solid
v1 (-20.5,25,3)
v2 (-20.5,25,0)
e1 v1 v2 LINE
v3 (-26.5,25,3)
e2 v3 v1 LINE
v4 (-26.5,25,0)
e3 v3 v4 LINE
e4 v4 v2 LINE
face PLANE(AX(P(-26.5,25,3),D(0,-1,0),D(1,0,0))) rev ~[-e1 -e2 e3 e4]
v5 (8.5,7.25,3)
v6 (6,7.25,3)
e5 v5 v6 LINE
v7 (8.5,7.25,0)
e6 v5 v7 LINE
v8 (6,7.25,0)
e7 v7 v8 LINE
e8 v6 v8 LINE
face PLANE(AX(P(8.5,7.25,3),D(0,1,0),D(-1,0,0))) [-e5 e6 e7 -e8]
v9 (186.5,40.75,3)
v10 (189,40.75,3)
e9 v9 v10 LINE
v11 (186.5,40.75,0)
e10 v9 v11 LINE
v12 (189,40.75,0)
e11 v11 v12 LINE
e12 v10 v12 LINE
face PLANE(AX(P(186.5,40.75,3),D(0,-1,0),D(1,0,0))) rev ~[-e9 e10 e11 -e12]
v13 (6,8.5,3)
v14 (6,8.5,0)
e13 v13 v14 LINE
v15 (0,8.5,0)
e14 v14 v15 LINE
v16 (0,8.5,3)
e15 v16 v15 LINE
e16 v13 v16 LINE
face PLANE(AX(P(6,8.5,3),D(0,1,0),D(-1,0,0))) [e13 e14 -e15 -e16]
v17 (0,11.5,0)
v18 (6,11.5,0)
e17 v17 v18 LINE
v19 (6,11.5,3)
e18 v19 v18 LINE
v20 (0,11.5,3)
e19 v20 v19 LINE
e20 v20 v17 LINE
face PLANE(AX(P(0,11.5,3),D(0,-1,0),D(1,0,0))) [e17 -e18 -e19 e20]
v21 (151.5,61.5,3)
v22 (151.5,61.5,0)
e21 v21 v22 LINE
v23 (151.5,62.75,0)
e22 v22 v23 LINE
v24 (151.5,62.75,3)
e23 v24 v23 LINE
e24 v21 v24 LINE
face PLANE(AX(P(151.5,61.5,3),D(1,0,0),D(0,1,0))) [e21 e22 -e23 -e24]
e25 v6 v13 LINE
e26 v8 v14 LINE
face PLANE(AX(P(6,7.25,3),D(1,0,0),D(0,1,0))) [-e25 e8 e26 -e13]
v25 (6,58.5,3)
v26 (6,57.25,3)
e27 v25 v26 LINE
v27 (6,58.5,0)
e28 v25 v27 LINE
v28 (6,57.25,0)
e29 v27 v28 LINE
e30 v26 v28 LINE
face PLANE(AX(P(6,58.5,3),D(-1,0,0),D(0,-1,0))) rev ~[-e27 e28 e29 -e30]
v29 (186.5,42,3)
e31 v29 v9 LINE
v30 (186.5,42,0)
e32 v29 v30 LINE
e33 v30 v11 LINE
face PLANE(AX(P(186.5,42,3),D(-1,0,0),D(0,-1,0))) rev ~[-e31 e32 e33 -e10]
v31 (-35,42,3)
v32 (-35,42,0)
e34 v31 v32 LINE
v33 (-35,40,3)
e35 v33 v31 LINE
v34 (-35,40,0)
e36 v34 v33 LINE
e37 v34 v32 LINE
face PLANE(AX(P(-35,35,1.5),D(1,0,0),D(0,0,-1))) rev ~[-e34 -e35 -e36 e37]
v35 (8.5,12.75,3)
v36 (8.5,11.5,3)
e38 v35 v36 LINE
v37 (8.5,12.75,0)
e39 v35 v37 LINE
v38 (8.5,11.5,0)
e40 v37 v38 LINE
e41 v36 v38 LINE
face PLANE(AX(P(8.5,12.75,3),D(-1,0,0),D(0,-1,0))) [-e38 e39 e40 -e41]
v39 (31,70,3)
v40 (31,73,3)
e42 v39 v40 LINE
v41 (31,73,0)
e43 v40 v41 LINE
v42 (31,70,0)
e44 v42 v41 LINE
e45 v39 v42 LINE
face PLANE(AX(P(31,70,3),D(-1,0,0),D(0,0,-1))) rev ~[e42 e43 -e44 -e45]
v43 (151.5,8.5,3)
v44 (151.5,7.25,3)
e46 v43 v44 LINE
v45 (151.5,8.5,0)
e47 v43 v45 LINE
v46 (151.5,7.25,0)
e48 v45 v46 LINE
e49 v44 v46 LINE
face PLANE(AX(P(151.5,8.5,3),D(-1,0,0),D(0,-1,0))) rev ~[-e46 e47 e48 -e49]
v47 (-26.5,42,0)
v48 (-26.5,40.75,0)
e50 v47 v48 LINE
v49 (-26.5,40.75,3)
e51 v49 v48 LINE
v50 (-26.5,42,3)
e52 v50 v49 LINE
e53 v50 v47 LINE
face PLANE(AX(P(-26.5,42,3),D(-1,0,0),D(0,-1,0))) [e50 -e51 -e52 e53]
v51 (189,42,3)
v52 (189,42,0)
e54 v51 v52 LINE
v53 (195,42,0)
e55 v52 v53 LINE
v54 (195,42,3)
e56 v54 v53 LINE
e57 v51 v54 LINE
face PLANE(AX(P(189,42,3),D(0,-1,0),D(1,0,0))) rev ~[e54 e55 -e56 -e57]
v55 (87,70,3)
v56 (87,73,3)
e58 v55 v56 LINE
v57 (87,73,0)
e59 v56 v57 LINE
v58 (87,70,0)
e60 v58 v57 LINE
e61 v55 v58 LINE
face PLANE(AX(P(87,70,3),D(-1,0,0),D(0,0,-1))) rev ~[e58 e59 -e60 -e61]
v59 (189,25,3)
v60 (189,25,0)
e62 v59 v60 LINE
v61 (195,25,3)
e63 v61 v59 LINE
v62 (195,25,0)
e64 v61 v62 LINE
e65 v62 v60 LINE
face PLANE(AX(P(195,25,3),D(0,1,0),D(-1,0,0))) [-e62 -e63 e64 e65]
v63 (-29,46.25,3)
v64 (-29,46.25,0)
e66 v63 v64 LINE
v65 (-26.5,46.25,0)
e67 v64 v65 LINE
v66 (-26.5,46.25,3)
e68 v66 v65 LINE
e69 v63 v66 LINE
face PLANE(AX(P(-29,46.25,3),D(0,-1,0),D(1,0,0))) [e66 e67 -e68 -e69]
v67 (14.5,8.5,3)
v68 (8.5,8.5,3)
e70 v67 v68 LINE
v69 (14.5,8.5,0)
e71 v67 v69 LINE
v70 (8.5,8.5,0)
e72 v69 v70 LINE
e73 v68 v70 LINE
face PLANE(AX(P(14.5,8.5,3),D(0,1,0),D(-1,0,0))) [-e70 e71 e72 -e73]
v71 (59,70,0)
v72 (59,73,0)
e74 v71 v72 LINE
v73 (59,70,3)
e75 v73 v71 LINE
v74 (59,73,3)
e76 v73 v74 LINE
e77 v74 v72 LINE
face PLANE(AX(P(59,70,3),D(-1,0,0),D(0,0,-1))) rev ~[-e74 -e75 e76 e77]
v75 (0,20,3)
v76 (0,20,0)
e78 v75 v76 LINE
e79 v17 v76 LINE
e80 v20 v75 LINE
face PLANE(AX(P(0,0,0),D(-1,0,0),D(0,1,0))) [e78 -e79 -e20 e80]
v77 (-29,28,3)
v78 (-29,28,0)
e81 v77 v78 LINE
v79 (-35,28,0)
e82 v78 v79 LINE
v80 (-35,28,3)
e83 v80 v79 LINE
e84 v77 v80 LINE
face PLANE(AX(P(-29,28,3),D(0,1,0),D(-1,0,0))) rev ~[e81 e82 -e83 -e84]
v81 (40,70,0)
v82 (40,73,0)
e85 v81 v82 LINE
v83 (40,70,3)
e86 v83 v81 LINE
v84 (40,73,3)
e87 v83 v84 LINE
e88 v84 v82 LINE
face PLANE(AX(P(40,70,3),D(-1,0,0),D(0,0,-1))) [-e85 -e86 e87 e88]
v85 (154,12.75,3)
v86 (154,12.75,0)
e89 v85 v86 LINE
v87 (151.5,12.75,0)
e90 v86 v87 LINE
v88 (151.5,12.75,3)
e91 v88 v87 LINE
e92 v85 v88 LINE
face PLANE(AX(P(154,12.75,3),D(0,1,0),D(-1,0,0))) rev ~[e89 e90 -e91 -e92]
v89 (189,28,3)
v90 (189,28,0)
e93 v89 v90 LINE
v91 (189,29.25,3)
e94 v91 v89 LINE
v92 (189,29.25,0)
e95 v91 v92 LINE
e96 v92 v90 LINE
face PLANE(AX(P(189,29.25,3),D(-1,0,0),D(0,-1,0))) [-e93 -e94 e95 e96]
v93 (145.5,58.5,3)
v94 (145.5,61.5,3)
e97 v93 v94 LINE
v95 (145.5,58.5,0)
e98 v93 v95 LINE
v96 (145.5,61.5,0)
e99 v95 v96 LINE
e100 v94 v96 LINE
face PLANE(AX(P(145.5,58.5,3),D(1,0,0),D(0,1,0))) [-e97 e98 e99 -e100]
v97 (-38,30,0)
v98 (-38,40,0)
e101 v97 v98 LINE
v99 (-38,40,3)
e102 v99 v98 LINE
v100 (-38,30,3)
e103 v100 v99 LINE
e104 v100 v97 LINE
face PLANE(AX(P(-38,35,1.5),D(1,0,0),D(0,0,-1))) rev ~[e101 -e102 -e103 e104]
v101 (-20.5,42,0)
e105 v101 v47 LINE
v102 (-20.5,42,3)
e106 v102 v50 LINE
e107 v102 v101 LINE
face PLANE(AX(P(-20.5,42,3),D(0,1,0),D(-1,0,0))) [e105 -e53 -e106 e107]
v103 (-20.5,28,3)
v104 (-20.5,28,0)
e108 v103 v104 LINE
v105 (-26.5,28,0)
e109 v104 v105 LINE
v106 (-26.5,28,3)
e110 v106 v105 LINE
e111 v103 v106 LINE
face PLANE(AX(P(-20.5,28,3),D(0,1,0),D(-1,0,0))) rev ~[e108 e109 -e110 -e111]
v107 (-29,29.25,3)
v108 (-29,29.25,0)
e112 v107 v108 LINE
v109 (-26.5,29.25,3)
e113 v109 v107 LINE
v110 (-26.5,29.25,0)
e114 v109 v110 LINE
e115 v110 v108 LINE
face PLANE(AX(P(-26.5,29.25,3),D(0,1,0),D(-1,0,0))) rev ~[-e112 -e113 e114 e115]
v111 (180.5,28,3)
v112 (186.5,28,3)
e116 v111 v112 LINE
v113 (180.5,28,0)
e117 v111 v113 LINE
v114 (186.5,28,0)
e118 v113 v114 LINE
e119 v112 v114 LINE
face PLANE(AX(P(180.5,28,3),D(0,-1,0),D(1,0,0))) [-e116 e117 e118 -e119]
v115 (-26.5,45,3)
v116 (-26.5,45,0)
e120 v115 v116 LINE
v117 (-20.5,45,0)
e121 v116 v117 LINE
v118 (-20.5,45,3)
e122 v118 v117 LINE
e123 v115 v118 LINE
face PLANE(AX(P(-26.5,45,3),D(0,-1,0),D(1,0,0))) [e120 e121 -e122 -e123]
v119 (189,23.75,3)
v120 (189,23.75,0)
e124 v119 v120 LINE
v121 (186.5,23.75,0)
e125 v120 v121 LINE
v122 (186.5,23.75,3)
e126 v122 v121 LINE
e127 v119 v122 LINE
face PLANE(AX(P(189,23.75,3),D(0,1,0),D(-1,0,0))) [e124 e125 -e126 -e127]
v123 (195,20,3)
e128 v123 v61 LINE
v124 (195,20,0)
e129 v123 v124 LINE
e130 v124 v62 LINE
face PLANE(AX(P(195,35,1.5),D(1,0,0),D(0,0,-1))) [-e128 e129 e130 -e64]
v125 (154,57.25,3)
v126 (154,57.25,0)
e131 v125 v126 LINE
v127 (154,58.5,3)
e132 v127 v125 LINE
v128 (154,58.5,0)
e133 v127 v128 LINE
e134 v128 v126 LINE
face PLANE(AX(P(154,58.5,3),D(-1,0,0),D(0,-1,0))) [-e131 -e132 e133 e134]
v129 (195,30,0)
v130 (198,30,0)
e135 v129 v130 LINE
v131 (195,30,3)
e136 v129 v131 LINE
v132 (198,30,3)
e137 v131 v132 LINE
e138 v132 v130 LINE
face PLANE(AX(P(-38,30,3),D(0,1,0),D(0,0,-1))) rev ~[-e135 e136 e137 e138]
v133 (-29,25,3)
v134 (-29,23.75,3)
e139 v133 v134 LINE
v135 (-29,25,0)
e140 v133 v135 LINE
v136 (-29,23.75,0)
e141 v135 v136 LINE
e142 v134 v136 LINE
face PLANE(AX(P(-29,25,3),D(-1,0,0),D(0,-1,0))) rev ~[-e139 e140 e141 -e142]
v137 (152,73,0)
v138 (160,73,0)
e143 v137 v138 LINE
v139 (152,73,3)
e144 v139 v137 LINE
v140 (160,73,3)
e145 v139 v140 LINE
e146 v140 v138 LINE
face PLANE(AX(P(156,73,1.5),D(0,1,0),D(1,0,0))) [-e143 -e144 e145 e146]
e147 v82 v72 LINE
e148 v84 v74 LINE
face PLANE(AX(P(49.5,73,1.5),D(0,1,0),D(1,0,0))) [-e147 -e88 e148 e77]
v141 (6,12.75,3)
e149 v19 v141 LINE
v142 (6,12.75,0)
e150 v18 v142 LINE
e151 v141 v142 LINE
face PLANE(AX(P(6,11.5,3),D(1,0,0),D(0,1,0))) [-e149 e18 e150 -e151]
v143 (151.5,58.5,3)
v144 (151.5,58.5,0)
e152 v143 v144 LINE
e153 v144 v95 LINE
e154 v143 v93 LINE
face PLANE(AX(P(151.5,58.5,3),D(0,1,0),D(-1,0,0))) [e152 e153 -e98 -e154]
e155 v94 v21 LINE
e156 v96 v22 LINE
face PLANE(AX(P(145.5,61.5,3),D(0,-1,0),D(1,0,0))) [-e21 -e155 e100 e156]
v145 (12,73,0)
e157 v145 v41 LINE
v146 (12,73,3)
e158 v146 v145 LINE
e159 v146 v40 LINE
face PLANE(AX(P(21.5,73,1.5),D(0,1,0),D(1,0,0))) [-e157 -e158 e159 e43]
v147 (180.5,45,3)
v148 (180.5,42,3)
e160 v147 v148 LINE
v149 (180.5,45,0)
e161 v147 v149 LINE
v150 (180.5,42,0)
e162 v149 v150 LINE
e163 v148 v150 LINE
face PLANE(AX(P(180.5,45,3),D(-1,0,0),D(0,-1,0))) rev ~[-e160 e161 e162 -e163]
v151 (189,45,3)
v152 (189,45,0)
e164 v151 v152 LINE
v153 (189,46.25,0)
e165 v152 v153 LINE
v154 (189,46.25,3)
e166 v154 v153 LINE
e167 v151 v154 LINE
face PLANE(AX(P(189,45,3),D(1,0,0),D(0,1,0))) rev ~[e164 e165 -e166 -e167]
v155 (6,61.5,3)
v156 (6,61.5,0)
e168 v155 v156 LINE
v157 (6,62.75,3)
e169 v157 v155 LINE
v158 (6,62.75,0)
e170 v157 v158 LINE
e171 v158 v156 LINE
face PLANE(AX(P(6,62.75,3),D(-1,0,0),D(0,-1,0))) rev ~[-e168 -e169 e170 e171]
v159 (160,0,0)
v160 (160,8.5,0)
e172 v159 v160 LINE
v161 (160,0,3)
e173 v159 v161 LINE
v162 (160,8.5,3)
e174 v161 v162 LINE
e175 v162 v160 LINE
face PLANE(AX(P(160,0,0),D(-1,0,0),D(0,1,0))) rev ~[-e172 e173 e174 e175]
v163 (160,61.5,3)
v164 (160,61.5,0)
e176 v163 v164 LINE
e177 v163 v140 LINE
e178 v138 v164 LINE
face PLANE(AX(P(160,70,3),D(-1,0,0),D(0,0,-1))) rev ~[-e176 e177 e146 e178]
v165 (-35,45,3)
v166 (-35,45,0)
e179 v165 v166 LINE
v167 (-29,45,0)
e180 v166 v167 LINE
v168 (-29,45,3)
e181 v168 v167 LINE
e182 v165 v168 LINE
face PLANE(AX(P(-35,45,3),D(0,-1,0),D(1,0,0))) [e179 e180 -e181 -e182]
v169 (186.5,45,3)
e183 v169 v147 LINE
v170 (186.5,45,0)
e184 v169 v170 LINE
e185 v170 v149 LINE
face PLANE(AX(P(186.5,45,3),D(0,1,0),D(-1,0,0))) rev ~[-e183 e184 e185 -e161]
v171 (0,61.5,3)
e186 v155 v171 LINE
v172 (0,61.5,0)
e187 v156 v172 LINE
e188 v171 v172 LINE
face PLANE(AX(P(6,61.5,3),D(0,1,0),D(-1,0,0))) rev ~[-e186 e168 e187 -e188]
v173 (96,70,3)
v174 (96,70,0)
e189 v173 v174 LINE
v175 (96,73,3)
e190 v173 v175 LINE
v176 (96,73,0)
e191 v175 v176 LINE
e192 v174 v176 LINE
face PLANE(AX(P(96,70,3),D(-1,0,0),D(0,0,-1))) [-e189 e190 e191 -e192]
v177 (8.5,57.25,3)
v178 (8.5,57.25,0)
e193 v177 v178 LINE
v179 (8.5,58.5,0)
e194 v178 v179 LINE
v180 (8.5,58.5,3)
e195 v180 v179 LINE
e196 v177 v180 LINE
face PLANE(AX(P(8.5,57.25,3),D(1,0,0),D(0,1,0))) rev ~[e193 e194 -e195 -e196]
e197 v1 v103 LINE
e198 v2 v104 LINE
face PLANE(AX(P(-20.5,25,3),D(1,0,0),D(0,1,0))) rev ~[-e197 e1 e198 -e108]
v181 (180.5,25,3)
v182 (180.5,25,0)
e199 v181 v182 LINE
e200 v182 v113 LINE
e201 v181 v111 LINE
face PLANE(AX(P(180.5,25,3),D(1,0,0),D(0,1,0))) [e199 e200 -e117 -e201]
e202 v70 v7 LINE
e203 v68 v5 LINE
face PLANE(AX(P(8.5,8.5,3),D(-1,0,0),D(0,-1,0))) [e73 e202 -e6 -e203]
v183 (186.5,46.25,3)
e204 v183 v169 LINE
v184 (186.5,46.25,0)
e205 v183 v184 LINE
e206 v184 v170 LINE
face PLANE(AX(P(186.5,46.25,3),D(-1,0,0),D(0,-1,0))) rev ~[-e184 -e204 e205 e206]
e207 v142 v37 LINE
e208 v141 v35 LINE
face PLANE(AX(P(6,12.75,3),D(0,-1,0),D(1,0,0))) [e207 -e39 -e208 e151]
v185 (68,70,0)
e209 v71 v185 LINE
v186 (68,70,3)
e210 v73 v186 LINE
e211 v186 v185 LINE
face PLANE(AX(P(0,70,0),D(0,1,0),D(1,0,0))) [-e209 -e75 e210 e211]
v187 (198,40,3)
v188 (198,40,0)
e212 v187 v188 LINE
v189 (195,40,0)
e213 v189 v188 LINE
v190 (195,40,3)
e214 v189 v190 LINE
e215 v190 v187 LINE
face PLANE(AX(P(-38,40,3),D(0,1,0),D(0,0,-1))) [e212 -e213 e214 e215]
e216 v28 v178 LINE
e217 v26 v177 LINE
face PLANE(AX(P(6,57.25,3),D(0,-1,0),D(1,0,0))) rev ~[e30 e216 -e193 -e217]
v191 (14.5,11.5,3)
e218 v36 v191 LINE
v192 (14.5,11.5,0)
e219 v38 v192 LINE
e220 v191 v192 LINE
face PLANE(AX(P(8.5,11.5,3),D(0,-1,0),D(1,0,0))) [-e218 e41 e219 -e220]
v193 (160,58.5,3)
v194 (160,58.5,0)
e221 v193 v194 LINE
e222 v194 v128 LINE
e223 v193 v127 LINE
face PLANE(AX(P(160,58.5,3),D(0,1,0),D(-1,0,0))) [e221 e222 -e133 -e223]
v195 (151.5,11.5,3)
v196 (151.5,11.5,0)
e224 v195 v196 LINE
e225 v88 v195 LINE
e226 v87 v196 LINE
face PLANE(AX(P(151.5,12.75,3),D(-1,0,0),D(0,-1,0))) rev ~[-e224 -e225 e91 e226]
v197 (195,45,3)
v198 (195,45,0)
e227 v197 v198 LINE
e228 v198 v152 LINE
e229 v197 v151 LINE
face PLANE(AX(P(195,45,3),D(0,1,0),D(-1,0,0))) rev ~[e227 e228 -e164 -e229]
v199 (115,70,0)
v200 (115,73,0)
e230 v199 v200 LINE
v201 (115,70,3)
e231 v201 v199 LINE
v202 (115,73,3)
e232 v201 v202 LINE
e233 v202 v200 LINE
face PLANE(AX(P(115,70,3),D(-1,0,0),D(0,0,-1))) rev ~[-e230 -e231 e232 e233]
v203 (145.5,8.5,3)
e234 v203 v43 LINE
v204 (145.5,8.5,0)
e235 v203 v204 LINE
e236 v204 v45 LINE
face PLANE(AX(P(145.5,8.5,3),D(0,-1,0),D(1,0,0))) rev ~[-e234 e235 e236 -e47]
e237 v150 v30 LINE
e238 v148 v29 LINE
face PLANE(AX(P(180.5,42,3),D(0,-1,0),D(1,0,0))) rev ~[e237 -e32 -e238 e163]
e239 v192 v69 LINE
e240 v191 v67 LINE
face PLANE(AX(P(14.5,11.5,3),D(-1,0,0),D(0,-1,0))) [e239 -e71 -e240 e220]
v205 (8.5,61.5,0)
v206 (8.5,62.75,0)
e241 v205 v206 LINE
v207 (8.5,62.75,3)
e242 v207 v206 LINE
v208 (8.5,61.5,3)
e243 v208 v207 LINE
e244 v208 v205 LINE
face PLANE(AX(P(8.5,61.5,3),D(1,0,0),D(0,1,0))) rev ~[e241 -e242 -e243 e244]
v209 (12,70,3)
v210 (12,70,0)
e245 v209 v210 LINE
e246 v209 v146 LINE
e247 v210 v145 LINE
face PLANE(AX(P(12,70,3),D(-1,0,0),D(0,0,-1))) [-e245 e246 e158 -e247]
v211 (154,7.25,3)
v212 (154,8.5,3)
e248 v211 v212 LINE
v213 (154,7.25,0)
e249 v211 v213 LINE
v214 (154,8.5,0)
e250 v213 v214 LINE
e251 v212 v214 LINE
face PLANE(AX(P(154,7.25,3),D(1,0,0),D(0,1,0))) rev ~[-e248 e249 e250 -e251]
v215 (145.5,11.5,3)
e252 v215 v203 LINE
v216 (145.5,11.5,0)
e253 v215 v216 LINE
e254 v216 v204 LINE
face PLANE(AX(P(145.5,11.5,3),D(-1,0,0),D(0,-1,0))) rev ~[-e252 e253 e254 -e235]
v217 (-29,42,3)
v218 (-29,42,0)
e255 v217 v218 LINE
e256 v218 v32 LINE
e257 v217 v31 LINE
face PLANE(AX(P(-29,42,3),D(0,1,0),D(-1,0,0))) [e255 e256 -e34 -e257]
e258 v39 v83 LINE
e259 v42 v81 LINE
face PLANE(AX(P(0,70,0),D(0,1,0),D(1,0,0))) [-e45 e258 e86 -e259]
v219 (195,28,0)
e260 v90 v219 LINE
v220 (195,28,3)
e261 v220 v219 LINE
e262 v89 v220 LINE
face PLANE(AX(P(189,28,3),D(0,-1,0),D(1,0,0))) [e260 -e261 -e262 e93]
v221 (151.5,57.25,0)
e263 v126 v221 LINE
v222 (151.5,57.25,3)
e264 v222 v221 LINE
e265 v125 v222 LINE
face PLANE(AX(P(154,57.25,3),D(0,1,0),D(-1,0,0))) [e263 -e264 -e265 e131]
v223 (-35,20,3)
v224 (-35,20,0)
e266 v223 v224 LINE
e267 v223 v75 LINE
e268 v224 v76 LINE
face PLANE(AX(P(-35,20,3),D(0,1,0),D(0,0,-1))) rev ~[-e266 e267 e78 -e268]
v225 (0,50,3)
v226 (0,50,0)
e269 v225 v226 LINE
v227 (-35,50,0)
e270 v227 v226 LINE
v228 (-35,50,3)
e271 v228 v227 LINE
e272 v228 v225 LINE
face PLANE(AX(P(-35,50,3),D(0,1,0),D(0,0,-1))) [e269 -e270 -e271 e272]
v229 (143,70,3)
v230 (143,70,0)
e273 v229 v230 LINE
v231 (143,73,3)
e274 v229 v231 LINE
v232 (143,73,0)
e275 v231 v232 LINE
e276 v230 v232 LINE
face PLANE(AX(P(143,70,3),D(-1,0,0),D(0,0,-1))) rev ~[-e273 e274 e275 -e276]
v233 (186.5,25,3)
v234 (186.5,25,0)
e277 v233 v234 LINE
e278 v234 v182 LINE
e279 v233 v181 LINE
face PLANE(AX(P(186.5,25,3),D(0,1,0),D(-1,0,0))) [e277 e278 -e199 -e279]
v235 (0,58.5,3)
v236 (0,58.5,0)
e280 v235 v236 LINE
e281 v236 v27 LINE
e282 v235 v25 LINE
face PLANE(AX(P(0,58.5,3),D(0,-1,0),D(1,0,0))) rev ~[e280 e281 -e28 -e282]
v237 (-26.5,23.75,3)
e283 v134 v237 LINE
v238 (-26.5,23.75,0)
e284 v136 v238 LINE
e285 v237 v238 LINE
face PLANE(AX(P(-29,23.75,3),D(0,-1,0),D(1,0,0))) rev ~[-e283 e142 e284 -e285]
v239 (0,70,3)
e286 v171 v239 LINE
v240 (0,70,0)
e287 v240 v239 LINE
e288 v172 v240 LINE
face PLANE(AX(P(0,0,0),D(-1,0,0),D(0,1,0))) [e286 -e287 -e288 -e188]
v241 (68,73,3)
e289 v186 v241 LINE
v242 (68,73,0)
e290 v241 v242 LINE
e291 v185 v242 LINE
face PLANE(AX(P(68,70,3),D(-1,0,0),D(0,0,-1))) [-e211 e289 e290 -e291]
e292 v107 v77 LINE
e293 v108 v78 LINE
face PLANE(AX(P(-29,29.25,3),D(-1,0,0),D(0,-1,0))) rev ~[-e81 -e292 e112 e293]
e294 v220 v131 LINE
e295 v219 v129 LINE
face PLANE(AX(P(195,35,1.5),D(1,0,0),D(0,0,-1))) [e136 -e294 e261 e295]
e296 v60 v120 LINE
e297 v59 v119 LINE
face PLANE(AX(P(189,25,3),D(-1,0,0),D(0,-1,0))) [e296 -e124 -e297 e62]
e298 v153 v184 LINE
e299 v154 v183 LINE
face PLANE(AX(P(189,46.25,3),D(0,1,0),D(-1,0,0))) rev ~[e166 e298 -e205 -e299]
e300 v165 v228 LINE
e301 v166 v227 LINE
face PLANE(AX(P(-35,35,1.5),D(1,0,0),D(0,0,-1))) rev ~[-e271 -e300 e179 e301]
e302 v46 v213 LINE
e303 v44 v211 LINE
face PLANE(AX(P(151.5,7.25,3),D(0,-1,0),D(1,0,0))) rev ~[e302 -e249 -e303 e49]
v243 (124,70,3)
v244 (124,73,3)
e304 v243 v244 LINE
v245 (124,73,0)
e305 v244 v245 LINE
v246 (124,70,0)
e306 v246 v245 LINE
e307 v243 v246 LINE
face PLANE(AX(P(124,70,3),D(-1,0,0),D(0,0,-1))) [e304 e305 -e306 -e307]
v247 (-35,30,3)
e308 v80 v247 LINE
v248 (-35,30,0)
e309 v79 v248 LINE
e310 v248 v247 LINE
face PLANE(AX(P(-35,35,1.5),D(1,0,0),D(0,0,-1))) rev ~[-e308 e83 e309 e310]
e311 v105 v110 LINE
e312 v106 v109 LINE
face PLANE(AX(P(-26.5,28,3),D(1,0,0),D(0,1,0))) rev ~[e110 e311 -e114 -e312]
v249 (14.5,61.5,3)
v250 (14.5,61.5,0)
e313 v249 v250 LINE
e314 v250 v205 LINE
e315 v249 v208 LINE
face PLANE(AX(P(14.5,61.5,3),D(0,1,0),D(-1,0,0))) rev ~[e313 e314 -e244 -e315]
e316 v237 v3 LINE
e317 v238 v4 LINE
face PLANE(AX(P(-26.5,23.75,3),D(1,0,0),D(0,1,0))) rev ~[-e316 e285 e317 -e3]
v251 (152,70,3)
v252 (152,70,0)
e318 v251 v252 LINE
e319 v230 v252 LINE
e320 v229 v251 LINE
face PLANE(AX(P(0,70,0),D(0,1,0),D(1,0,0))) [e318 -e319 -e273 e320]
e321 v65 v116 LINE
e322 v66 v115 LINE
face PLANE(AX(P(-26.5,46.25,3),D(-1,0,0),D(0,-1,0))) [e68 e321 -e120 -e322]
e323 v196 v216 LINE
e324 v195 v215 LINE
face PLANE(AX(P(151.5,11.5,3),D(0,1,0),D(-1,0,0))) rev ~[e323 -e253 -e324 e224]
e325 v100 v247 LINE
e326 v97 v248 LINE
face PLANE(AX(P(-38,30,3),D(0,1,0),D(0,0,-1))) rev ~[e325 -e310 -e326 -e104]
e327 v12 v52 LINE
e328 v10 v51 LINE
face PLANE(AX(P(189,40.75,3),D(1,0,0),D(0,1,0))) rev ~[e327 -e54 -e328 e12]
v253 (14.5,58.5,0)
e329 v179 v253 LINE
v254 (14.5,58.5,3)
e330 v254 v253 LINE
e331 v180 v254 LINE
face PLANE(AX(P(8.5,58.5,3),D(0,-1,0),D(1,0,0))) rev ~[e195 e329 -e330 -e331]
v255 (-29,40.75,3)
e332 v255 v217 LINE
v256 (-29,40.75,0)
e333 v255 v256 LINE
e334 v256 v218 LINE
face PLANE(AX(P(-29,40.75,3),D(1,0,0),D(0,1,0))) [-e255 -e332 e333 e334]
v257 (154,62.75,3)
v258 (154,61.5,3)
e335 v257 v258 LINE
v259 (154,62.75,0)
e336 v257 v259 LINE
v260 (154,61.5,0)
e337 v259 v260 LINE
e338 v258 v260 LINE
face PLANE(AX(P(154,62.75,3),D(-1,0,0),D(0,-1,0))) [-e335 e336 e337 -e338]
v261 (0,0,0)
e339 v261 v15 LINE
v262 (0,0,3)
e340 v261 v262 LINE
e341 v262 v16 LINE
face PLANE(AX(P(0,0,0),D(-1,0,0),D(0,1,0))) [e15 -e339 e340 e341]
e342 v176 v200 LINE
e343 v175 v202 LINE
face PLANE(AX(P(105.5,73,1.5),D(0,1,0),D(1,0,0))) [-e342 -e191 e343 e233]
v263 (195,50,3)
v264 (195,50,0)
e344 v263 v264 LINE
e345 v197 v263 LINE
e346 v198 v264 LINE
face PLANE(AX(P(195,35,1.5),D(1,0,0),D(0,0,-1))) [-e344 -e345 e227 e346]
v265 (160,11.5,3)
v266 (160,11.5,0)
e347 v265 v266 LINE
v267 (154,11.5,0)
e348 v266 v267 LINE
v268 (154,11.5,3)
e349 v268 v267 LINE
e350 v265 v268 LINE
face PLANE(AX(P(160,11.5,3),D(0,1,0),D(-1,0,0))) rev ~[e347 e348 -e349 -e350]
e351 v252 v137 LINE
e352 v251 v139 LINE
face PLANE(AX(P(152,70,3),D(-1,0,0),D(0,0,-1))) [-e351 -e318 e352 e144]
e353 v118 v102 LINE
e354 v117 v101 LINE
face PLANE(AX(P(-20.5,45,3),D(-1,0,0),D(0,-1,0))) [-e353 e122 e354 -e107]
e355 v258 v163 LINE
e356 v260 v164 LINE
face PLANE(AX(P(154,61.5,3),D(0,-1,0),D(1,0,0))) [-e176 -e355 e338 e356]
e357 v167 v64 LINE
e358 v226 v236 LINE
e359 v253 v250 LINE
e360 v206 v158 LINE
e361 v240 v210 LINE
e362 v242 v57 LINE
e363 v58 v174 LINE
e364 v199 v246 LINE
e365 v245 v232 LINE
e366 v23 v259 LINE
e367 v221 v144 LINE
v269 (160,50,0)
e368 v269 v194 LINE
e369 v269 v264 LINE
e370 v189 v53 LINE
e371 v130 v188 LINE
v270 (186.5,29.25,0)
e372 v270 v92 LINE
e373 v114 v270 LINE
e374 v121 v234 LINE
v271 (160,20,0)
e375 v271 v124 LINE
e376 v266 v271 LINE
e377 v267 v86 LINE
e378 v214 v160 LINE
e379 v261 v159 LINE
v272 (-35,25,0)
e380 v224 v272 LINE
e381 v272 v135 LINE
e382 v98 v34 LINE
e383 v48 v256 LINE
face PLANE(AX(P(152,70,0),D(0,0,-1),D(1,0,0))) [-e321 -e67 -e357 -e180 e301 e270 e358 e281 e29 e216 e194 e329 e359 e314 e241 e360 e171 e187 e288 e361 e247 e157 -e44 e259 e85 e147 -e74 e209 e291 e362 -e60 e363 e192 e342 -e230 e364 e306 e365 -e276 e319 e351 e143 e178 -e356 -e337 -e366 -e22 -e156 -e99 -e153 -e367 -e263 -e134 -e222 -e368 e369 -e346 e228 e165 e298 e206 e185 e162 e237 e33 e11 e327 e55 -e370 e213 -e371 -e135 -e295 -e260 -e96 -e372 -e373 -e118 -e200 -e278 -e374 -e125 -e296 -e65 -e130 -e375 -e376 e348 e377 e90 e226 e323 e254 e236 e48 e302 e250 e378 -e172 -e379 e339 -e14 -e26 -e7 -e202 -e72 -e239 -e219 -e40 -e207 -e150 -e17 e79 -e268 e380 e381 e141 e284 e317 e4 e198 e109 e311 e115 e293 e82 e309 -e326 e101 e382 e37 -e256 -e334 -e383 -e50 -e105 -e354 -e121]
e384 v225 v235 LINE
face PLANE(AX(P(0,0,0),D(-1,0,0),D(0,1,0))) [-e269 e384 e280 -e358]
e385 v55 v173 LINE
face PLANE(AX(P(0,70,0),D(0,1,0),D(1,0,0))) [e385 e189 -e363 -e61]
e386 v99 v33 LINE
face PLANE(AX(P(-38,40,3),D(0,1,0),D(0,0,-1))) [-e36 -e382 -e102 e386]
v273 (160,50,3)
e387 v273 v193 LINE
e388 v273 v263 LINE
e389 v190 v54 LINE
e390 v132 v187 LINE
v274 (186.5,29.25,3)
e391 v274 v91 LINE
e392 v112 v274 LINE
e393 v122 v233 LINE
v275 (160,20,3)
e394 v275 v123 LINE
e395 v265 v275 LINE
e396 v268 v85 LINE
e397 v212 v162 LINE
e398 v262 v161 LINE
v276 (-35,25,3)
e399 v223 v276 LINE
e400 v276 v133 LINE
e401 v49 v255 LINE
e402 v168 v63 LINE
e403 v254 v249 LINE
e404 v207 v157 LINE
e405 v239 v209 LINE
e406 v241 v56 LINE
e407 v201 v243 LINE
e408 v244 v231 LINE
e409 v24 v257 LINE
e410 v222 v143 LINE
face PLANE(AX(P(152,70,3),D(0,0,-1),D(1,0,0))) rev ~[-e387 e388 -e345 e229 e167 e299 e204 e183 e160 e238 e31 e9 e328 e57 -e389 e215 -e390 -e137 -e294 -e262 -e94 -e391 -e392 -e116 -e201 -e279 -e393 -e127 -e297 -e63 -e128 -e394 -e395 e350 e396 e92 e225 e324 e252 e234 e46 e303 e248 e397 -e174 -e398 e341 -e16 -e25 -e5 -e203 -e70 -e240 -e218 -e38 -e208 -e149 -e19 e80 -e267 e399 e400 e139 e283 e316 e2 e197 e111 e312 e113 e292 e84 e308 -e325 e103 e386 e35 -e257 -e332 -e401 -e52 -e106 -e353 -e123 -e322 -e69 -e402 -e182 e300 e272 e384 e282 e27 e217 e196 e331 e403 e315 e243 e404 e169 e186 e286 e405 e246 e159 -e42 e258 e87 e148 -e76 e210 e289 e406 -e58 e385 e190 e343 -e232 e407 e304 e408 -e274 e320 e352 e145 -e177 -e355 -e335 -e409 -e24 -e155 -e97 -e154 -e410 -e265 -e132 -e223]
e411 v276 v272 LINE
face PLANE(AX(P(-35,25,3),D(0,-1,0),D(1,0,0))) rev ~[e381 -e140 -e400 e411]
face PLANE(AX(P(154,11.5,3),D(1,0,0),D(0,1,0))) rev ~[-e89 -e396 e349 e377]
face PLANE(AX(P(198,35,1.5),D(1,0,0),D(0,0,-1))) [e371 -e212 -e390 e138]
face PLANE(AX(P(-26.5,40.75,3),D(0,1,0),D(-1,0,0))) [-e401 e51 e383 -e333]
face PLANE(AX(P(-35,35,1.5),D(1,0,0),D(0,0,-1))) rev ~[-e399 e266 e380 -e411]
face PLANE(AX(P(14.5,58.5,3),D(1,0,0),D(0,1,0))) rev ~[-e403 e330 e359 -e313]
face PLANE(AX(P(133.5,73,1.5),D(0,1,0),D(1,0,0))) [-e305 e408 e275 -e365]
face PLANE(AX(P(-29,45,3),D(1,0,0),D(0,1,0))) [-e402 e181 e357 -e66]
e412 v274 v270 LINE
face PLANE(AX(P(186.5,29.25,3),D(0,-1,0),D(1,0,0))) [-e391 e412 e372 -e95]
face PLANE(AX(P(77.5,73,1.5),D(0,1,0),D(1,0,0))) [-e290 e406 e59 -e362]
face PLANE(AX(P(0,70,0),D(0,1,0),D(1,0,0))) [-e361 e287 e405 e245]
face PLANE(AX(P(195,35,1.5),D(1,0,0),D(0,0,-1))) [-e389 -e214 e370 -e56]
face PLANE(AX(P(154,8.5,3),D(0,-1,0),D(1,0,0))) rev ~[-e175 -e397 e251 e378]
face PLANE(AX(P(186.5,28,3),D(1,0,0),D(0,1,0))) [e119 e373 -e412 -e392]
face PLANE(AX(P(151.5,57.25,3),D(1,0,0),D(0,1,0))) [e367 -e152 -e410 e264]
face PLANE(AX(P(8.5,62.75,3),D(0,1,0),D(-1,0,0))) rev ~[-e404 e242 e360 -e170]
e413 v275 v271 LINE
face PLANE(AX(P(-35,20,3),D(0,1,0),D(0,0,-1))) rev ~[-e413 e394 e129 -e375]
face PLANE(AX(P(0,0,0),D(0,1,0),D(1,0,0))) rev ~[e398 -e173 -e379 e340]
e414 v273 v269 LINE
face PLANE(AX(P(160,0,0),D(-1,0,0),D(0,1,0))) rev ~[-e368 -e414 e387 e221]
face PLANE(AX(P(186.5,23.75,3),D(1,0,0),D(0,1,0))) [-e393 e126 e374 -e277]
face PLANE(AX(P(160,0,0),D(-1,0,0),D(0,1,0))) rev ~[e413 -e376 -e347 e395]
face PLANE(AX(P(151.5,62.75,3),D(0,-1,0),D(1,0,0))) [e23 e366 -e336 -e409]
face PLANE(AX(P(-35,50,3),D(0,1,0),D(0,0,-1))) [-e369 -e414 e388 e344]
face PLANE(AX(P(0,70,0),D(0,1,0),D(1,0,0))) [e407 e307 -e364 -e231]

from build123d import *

# Parameters (mm, degrees)
SKETCH_1_W             = 160
SKETCH_1_H             = 70
EXTRUDE_1_DEPTH        = 3
EXTRUDE_2_DEPTH        = 35
EXTRUDE_2_DEPTH_BACK   = 195
SKETCH_2_W             = 3
SKETCH_2_H             = 30
EXTRUDE_3_DEPTH        = 3
EXTRUDE_3_DEPTH_BACK   = 233
SKETCH_3_W             = 3
SKETCH_3_H             = 10
CUT_EXTRUDE_1_DEPTH    = 3
CUT_EXTRUDE_2_DEPTH    = 3
SKETCH_6_W             = 8
SKETCH_6_H             = 3
EXTRUDE_4_DEPTH        = 3
SKETCH_7_W             = 19
SKETCH_7_H             = 3
EXTRUDE_5_DEPTH        = 3
PATTERN_LINEAR_1_COUNT = 5
PATTERN_LINEAR_1_PITCH = 28


with BuildPart() as part:
    # Эскиз1 → Бобышка-Вытянуть1 (new body)
    with BuildSketch(Plane.XY):
        with Locations((80, 35)):
            Rectangle(SKETCH_1_W, SKETCH_1_H)
    extrude(amount=EXTRUDE_1_DEPTH)

    # Эскиз2 → Бобышка-Вытянуть2 (add, two sides: drawn at the far end of the back side and taken through both)
    with BuildSketch(Plane(origin=(160, 0, 0), x_dir=(0, 0, -1), z_dir=(1, 0, 0)).offset(-EXTRUDE_2_DEPTH_BACK)):
        with Locations((-1.5, 35)):
            Rectangle(SKETCH_2_W, SKETCH_2_H)
    extrude(amount=EXTRUDE_2_DEPTH + EXTRUDE_2_DEPTH_BACK)

    # Эскиз3 → Бобышка-Вытянуть3 (add, two sides: drawn at the far end of the back side and taken through both)
    with BuildSketch(Plane(origin=(195, 0, 0), x_dir=(0, 0, -1), z_dir=(1, 0, 0)).offset(-EXTRUDE_3_DEPTH_BACK)):
        with Locations((-1.5, 35)):
            Rectangle(SKETCH_3_W, SKETCH_3_H)
    extrude(amount=EXTRUDE_3_DEPTH + EXTRUDE_3_DEPTH_BACK)

    # Эскиз4 → Вырез-Вытянуть1 (cut)
    with BuildSketch(Plane.XY.offset(3)):
        Polygon((160, 58.5), (154, 58.5), (154, 57.25), (151.5, 57.25), (151.5, 58.5), (145.5, 58.5), (145.5, 61.5), (151.5, 61.5), (151.5, 62.75), (154, 62.75), (154, 61.5), (160, 61.5), align=None)
        Polygon((160, 8.5), (160, 11.5), (154, 11.5), (154, 12.75), (151.5, 12.75), (151.5, 11.5), (145.5, 11.5), (145.5, 8.5), (151.5, 8.5), (151.5, 7.25), (154, 7.25), (154, 8.5), align=None)
        Polygon((0, 11.5), (6, 11.5), (6, 12.75), (8.5, 12.75), (8.5, 11.5), (14.5, 11.5), (14.5, 8.5), (8.5, 8.5), (8.5, 7.25), (6, 7.25), (6, 8.5), (0, 8.5), align=None)
        Polygon((0, 61.5), (0, 58.5), (6, 58.5), (6, 57.25), (8.5, 57.25), (8.5, 58.5), (14.5, 58.5), (14.5, 61.5), (8.5, 61.5), (8.5, 62.75), (6, 62.75), (6, 61.5), align=None)
    extrude(amount=-CUT_EXTRUDE_1_DEPTH, mode=Mode.SUBTRACT)

    # Эскиз5 → Вырез-Вытянуть2 (cut)
    with BuildSketch(Plane.XY.offset(3)):
        Polygon((195, 45), (189, 45), (189, 46.25), (186.5, 46.25), (186.5, 45), (180.5, 45), (180.5, 42), (186.5, 42), (186.5, 40.75), (189, 40.75), (189, 42), (195, 42), align=None)
        Polygon((195, 28), (195, 25), (189, 25), (189, 23.75), (186.5, 23.75), (186.5, 25), (180.5, 25), (180.5, 28), (186.5, 28), (186.5, 29.25), (189, 29.25), (189, 28), align=None)
        Polygon((-35, 25), (-29, 25), (-29, 23.75), (-26.5, 23.75), (-26.5, 25), (-20.5, 25), (-20.5, 28), (-26.5, 28), (-26.5, 29.25), (-29, 29.25), (-29, 28), (-35, 28), align=None)
        Polygon((-35, 42), (-35, 45), (-29, 45), (-29, 46.25), (-26.5, 46.25), (-26.5, 45), (-20.5, 45), (-20.5, 42), (-26.5, 42), (-26.5, 40.75), (-29, 40.75), (-29, 42), align=None)
    extrude(amount=-CUT_EXTRUDE_2_DEPTH, mode=Mode.SUBTRACT)

    # Эскиз6 → Бобышка-Вытянуть4 (add)
    with BuildSketch(Plane(origin=(0, 70, 0), x_dir=(1, 0, 0), z_dir=(0, 1, 0))):
        with Locations((156, -1.5)):
            Rectangle(SKETCH_6_W, SKETCH_6_H)
    extrude(amount=EXTRUDE_4_DEPTH)

    # Эскиз7 → Бобышка-Вытянуть5 (add)
    with BuildSketch(Plane(origin=(0, 70, 0), x_dir=(1, 0, 0), z_dir=(0, 1, 0))):
        with Locations((133.5, -1.5)):
            Rectangle(SKETCH_7_W, SKETCH_7_H)
    extrude_5 = extrude(amount=EXTRUDE_5_DEPTH)

    # Линейный массив1: Бобышка-Вытянуть5 ×5
    with Locations(*[(-i * PATTERN_LINEAR_1_PITCH, 0, 0) for i in range(1, PATTERN_LINEAR_1_COUNT)]):
        add(extrude_5)


solid = part.part
